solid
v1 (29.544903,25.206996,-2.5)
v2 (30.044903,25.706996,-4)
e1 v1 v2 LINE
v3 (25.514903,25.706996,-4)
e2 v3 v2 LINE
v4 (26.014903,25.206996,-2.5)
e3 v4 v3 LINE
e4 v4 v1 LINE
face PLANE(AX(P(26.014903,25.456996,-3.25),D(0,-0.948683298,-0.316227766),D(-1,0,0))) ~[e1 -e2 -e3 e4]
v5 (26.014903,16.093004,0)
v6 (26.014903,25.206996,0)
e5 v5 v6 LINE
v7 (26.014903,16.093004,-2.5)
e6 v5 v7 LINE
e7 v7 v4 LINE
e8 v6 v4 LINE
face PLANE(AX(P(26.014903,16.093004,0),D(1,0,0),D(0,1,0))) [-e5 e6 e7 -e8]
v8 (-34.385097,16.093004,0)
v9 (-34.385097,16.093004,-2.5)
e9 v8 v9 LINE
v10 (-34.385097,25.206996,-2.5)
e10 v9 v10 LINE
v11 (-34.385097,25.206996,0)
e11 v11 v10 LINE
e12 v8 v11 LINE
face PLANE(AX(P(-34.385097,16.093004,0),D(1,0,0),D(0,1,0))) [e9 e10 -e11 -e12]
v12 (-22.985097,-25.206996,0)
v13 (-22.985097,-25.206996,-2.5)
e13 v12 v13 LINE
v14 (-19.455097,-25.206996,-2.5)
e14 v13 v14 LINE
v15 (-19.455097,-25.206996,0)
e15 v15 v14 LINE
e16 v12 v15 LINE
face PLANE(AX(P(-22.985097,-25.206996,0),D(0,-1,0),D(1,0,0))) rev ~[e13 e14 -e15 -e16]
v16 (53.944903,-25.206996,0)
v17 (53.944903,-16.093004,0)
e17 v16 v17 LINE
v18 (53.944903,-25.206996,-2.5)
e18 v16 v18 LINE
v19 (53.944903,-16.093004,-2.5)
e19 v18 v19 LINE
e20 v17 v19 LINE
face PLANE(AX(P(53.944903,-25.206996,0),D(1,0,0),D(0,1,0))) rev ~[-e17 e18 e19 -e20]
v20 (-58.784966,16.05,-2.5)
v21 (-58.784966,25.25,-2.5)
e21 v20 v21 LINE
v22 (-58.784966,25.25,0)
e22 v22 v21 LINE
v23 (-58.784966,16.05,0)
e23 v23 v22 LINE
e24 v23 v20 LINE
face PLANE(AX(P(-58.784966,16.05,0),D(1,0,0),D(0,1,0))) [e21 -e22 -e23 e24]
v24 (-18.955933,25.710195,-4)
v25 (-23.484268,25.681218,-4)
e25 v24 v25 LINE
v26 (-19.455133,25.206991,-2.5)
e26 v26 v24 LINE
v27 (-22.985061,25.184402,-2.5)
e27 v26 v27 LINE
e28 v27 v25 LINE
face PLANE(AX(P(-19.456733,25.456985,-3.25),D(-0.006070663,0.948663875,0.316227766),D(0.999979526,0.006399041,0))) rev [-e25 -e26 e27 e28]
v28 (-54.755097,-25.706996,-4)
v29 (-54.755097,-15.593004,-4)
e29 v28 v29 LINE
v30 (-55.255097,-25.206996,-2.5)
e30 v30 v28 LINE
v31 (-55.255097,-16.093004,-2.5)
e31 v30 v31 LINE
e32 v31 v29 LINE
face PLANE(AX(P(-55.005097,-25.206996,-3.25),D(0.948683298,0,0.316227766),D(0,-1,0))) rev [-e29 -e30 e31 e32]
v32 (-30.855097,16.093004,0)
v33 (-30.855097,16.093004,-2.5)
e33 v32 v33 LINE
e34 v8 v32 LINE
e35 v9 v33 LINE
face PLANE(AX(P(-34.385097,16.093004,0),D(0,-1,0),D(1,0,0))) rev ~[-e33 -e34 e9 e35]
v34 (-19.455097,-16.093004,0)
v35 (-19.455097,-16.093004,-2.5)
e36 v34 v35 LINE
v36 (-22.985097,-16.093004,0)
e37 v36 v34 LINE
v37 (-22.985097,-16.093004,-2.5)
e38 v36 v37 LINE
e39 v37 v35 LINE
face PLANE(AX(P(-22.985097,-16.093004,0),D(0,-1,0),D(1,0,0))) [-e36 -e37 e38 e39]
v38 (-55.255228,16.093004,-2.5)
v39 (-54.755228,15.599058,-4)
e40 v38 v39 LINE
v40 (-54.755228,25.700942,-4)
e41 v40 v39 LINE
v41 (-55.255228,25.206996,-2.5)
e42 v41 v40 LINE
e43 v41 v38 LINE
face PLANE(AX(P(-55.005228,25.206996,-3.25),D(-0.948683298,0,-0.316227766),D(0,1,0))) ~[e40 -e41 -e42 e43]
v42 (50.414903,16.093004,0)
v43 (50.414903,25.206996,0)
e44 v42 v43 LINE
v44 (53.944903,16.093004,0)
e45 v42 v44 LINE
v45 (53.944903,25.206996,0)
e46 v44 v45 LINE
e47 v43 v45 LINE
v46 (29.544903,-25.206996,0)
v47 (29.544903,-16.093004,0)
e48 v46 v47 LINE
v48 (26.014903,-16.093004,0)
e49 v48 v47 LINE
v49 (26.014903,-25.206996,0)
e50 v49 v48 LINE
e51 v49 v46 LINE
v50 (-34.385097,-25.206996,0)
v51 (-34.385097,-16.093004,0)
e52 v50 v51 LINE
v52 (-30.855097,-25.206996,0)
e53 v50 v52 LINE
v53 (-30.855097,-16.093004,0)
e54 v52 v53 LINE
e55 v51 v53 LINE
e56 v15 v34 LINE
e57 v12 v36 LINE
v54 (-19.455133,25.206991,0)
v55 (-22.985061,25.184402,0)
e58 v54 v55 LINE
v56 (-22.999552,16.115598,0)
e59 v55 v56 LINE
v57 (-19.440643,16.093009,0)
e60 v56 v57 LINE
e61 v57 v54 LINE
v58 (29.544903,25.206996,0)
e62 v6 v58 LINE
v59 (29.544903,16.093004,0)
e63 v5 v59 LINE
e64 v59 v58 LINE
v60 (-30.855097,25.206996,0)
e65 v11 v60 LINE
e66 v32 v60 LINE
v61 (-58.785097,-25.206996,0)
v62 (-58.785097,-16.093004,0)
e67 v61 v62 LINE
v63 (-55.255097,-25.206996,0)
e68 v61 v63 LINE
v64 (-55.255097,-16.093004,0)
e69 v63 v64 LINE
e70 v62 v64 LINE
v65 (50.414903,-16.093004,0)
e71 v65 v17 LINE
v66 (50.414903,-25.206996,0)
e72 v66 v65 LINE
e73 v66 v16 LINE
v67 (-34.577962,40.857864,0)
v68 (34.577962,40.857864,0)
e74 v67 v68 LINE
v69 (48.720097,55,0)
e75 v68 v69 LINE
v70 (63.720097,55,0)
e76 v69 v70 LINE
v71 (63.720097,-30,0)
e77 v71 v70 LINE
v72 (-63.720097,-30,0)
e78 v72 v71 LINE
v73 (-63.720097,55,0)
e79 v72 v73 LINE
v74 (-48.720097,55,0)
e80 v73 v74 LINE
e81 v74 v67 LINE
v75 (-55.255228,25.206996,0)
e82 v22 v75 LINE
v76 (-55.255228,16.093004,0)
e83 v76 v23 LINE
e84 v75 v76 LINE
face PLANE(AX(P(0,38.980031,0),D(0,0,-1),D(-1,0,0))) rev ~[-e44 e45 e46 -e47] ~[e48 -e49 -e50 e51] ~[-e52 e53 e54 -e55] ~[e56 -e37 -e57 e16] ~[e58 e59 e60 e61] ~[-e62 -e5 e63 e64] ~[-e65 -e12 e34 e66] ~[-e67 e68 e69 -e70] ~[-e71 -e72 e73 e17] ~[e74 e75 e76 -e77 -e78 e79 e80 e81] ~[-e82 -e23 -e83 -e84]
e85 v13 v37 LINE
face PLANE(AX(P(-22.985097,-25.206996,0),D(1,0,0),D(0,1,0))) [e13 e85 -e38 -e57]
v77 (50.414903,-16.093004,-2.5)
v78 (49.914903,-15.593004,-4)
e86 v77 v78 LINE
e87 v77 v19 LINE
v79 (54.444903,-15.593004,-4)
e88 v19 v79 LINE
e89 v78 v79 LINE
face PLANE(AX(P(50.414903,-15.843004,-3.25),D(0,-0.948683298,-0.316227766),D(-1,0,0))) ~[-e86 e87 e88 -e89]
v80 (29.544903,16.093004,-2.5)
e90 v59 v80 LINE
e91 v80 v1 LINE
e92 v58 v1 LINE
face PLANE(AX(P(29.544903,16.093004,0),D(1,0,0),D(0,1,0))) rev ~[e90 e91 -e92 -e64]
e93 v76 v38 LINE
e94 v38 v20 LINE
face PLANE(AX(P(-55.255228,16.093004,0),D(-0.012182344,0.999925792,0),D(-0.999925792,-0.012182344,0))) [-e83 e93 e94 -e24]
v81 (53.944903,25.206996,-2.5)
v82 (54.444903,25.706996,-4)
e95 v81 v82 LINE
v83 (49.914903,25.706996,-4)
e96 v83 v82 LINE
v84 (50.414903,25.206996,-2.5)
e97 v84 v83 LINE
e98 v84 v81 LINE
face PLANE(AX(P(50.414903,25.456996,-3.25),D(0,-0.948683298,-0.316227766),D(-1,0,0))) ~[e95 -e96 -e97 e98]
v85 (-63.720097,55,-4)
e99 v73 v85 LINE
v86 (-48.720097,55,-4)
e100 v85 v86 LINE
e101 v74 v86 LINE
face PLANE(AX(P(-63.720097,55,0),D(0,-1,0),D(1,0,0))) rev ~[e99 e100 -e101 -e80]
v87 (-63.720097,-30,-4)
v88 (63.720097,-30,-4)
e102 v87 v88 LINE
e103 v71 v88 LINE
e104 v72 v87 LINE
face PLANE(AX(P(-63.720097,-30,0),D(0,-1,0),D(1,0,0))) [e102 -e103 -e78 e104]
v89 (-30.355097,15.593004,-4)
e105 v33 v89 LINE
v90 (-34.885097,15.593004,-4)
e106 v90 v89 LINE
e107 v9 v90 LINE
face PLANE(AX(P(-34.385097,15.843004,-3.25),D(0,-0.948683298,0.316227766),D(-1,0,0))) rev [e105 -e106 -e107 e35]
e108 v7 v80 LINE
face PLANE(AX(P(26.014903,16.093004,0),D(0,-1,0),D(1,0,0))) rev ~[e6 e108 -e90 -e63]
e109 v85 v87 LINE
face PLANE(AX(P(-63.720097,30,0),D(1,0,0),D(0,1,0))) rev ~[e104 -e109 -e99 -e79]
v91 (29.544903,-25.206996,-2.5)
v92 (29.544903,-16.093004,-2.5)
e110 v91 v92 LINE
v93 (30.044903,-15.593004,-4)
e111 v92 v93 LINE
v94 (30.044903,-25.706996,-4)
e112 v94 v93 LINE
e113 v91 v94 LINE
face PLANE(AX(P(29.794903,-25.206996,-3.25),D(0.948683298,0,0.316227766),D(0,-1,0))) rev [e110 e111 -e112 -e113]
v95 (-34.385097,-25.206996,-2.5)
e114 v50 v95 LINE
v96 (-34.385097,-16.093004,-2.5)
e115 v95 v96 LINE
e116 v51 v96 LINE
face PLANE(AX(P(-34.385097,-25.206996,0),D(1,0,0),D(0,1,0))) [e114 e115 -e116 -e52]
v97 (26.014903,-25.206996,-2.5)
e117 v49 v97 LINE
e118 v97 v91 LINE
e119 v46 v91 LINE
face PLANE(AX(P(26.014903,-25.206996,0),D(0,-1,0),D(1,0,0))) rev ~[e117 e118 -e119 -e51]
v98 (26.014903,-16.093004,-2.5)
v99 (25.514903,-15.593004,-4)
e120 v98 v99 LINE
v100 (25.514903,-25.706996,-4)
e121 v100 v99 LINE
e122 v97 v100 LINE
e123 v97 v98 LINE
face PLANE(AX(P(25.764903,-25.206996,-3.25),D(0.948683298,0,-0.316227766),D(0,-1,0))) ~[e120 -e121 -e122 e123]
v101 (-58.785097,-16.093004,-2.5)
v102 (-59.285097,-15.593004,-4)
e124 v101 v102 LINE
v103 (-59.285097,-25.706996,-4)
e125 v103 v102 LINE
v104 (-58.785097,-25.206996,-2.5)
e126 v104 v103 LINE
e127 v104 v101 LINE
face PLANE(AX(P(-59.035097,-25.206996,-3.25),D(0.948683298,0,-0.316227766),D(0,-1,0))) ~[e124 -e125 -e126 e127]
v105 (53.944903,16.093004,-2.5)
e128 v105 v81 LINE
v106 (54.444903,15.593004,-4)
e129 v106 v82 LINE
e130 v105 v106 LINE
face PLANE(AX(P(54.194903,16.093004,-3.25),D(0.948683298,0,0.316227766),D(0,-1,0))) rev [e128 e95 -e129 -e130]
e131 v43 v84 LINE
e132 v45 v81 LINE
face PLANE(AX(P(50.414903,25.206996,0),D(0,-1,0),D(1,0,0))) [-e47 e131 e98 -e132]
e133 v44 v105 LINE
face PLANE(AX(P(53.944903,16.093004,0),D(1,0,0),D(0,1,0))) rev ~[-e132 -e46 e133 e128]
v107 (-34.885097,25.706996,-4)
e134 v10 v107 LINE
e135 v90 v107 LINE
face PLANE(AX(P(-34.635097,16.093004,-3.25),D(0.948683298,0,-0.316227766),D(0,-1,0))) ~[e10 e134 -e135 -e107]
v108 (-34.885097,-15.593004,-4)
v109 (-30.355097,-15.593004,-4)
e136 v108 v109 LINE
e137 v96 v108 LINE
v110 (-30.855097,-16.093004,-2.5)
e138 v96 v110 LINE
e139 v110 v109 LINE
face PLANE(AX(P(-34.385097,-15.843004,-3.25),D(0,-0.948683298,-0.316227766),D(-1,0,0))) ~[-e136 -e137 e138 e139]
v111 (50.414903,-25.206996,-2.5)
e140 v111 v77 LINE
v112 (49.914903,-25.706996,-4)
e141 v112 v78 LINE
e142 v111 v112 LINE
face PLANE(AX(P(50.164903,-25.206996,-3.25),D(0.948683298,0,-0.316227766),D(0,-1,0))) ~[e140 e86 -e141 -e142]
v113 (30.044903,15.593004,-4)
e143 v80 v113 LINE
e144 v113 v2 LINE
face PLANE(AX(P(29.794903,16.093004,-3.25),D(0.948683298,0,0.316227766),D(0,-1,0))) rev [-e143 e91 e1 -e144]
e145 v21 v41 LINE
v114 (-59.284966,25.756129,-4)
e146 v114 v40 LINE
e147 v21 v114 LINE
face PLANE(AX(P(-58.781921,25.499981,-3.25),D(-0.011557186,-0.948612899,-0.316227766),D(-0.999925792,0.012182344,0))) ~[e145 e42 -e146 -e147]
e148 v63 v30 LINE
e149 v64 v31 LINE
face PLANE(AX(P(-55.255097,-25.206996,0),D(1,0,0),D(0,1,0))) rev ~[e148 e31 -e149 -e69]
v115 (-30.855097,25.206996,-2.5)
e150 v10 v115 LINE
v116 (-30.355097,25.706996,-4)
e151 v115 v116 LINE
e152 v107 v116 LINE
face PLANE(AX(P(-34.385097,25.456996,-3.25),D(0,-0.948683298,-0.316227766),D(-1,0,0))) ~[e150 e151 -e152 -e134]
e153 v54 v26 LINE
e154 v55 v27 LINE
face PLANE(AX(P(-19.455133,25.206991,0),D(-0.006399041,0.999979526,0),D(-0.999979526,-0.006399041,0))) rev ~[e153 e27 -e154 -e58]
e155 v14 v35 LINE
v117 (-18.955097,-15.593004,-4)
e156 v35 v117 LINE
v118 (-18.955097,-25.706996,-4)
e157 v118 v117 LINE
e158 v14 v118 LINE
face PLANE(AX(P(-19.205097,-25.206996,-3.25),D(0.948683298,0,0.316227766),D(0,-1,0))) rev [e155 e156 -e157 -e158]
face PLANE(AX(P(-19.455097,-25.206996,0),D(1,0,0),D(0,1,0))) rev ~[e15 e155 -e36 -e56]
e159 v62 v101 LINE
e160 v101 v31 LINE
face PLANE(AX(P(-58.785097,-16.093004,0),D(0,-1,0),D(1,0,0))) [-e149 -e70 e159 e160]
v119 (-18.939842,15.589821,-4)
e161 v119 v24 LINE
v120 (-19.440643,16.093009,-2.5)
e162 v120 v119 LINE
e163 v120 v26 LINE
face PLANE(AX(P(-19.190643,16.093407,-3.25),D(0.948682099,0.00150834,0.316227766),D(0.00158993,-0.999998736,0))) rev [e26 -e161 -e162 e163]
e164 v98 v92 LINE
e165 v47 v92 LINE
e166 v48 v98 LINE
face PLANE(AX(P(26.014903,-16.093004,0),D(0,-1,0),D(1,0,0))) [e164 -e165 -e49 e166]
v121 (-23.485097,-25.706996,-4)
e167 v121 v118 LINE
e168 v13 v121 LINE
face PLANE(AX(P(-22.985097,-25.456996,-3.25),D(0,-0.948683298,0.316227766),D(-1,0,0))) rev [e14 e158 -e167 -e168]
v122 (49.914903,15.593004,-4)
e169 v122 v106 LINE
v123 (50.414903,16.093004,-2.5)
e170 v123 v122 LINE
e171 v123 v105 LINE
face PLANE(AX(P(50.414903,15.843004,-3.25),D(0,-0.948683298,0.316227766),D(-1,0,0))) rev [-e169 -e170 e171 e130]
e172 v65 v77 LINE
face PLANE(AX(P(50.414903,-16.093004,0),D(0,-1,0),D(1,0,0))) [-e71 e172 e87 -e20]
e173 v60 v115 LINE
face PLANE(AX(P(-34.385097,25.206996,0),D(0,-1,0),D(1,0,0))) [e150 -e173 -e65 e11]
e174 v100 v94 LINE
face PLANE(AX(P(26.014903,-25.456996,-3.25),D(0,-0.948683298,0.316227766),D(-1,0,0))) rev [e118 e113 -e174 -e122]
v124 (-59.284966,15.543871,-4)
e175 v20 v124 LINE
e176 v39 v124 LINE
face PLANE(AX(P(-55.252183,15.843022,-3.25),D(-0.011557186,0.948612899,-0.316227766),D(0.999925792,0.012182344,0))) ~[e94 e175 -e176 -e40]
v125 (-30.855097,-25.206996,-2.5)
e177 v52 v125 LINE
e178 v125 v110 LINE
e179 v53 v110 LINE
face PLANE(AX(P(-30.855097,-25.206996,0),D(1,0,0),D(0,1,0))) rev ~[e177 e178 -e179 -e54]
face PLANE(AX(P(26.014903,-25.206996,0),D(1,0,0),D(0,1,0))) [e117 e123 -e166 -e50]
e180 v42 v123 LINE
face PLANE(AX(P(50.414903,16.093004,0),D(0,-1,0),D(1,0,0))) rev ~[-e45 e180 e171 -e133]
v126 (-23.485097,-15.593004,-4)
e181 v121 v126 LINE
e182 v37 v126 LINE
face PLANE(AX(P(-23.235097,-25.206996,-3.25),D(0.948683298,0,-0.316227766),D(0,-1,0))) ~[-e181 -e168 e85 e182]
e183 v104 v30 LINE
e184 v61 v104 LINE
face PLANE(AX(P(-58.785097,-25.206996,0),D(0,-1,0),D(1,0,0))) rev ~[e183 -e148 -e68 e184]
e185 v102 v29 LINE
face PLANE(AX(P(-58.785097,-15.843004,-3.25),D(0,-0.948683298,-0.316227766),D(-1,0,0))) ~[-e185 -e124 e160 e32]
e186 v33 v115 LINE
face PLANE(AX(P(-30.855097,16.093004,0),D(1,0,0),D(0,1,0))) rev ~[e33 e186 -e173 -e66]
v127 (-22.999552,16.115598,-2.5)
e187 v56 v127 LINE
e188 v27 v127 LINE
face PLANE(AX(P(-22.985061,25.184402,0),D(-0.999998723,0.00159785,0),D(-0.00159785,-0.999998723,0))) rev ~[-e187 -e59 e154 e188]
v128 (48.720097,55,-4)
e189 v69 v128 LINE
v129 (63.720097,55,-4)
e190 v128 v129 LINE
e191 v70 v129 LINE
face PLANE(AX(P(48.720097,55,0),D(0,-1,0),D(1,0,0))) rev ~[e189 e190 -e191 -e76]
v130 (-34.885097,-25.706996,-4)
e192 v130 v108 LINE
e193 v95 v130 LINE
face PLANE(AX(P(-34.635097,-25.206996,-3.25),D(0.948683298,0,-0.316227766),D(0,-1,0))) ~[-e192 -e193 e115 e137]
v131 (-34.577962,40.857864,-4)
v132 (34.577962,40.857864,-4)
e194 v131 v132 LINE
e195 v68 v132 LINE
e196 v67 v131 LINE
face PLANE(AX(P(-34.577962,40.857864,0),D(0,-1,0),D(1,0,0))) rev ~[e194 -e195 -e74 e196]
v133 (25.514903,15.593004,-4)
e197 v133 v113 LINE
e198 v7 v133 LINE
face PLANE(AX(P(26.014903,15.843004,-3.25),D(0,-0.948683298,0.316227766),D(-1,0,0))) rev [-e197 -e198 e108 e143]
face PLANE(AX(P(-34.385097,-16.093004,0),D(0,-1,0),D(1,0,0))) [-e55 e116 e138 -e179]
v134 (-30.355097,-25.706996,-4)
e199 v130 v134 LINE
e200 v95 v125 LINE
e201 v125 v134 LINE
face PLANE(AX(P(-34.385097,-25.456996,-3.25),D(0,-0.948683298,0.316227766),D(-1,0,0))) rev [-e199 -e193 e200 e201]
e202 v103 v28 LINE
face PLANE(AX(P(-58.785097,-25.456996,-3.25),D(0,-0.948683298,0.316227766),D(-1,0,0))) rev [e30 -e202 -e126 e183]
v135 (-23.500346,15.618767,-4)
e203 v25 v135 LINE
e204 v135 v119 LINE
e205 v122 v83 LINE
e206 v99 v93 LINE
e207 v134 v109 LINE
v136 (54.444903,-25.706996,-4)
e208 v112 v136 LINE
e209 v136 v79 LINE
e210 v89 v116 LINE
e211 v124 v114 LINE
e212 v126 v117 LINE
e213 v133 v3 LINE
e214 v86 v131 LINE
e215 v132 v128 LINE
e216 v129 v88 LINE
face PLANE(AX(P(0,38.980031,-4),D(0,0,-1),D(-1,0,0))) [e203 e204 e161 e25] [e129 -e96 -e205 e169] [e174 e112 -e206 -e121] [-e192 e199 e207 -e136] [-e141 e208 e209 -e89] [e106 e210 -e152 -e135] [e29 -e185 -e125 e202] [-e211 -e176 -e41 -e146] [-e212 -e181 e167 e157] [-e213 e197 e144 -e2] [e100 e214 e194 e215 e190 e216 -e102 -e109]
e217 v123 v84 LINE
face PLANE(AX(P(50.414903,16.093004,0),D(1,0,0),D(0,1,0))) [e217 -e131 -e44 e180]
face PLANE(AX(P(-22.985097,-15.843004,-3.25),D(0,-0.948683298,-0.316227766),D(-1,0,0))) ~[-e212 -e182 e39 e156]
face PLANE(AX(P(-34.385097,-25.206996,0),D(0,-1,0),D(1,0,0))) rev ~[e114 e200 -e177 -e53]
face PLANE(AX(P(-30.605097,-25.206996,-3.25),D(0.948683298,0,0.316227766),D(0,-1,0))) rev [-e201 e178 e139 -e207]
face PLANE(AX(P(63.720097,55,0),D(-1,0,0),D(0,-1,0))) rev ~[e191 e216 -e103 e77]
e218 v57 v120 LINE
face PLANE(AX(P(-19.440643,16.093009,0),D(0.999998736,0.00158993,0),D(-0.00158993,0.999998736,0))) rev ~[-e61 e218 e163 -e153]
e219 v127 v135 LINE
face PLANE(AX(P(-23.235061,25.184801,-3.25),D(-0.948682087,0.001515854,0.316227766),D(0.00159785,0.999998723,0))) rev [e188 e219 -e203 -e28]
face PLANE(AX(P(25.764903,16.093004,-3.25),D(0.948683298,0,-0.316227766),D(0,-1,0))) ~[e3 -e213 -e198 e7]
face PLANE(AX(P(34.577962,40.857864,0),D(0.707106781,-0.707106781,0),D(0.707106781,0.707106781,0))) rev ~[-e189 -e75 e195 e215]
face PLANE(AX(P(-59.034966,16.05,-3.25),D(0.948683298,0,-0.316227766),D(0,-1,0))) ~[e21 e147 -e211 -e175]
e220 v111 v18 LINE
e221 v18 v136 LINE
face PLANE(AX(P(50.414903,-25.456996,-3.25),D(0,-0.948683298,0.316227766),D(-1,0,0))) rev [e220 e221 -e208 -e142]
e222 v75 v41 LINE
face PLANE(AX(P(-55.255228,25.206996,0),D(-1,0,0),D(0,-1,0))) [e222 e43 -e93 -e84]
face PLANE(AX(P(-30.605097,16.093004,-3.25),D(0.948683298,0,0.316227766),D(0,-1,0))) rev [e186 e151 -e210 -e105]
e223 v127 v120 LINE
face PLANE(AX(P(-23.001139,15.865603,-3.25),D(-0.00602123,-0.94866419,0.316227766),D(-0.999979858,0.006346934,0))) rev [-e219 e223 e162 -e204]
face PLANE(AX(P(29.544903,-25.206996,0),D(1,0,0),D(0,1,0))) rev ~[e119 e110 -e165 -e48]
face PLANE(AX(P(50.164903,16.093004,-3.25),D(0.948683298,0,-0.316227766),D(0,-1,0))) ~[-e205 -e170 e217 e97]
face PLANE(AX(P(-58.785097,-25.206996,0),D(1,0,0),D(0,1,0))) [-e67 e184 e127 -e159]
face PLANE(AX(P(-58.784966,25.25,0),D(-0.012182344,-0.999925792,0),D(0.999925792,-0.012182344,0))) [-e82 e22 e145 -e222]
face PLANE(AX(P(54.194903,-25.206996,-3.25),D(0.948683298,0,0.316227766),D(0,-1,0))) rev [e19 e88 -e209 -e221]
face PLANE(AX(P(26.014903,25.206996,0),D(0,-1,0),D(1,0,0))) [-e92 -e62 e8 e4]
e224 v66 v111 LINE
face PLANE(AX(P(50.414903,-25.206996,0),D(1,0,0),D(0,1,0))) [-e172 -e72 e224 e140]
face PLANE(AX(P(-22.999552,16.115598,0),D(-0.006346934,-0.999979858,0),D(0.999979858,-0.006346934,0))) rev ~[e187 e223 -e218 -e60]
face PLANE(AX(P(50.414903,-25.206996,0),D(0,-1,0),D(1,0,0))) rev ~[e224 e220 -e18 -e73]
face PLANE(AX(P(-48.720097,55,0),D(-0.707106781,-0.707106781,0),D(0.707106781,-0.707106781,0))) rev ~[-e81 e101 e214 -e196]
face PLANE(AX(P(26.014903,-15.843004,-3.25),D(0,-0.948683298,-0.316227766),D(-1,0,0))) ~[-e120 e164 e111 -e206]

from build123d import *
from OCP.BRepFilletAPI import BRepFilletAPI_MakeChamfer

# Parameters (mm, degrees)
SKETCH1_W           = 127.440194606
SKETCH1_H           = 60
SKETCH1_W_2         = 3.53
SKETCH1_H_2         = 9.11399265
BOSS_EXTRUDE1_DEPTH = 4
BOSS_EXTRUDE2_DEPTH = 4
CHAMFER1_SIZE       = 1.5
CHAMFER1_SIZE2      = 0.5


with BuildPart() as part:
    # Sketch1 → Boss-Extrude1 (new body)
    with BuildSketch(Plane.XY):
        Rectangle(SKETCH1_W, SKETCH1_H)
        with Locations((-32.620097303, 20.65)):
            Rectangle(SKETCH1_W_2, SKETCH1_H_2, mode=Mode.SUBTRACT)
        with Locations((27.7799027, 20.65)):
            Rectangle(SKETCH1_W_2, SKETCH1_H_2, mode=Mode.SUBTRACT)
        with Locations((27.7799027, -20.65)):
            Rectangle(SKETCH1_W_2, SKETCH1_H_2, mode=Mode.SUBTRACT)
        Polygon((-19.455133439, 25.206990566), (-22.985061166, 25.184401952), (-22.999551776, 16.115598048), (-19.440642829, 16.093009434), align=None, mode=Mode.SUBTRACT)
        with Locations((-21.220097303, -20.65)):
            Rectangle(SKETCH1_W_2, SKETCH1_H_2, mode=Mode.SUBTRACT)
        with Locations((52.1799027, 20.65)):
            Rectangle(SKETCH1_W_2, SKETCH1_H_2, mode=Mode.SUBTRACT)
        with Locations((52.1799027, -20.65)):
            Rectangle(SKETCH1_W_2, SKETCH1_H_2, mode=Mode.SUBTRACT)
        with Locations((-32.620097303, -20.65)):
            Rectangle(SKETCH1_W_2, SKETCH1_H_2, mode=Mode.SUBTRACT)
        Polygon((-58.784966326, 25.25), (-55.255228279, 25.206996325), (-55.255228279, 16.093003675), (-58.784966326, 16.05), align=None, mode=Mode.SUBTRACT)
        with Locations((-57.020097303, -20.65)):
            Rectangle(SKETCH1_W_2, SKETCH1_H_2, mode=Mode.SUBTRACT)
    extrude(amount=-BOSS_EXTRUDE1_DEPTH)

    # Sketch2 → Boss-Extrude2 (add)
    with BuildSketch(Plane.XY):
        Polygon((-63.720097303, 30), (-63.720097303, 55), (-48.720097303, 55), (-34.577961679, 40.857864376), (34.577961679, 40.857864376), (48.720097303, 55), (63.720097303, 55), (63.720097303, 30), align=None)
    extrude(amount=-BOSS_EXTRUDE2_DEPTH)

    # Chamfer1: one chamfer whose edges measure the first distance from different faces: ONE call of the kernel's chamfer builder (chamfer() names one face for all edges)
    chamfer1_edges_1 = [part.edges().sort_by_distance(p)[0] for p in [
        (50.4149027, -20.65, -4),
    ]]
    chamfer1_side_1 = [part.faces().sort_by_distance(p)[0] for p in [
        (50.4149027, -20.65, -2),
    ]]
    chamfer1_edges_2 = [part.edges().sort_by_distance(p)[0] for p in [
        (52.1799027, -16.093003675, -4),
    ]]
    chamfer1_side_2 = [part.faces().sort_by_distance(p)[0] for p in [
        (52.1799027, -16.093003675, -2),
    ]]
    chamfer1_edges_3 = [part.edges().sort_by_distance(p)[0] for p in [
        (53.9449027, -20.65, -4),
    ]]
    chamfer1_side_3 = [part.faces().sort_by_distance(p)[0] for p in [
        (53.9449027, -20.65, -2),
    ]]
    chamfer1_edges_4 = [part.edges().sort_by_distance(p)[0] for p in [
        (52.1799027, -25.206996325, -4),
    ]]
    chamfer1_side_4 = [part.faces().sort_by_distance(p)[0] for p in [
        (52.1799027, -25.206996325, -2),
    ]]
    chamfer1_edges_5 = [part.edges().sort_by_distance(p)[0] for p in [
        (-58.784966326, 20.65, -4),
    ]]
    chamfer1_side_5 = [part.faces().sort_by_distance(p)[0] for p in [
        (-58.784966326, 20.65, -2),
    ]]
    chamfer1_edges_6 = [part.edges().sort_by_distance(p)[0] for p in [
        (-57.020097303, 25.228498163, -4),
    ]]
    chamfer1_side_6 = [part.faces().sort_by_distance(p)[0] for p in [
        (-57.020097303, 25.228498163, -2),
    ]]
    chamfer1_edges_7 = [part.edges().sort_by_distance(p)[0] for p in [
        (-55.255228279, 20.65, -4),
    ]]
    chamfer1_side_7 = [part.faces().sort_by_distance(p)[0] for p in [
        (-55.255228279, 20.65, -2),
    ]]
    chamfer1_edges_8 = [part.edges().sort_by_distance(p)[0] for p in [
        (-57.020097303, 16.071501837, -4),
    ]]
    chamfer1_side_8 = [part.faces().sort_by_distance(p)[0] for p in [
        (-57.020097303, 16.071501837, -2),
    ]]
    chamfer1_edges_9 = [part.edges().sort_by_distance(p)[0] for p in [
        (-58.785097303, -20.65, -4),
    ]]
    chamfer1_side_9 = [part.faces().sort_by_distance(p)[0] for p in [
        (-58.785097303, -20.65, -2),
    ]]
    chamfer1_edges_10 = [part.edges().sort_by_distance(p)[0] for p in [
        (-57.020097303, -16.093003675, -4),
    ]]
    chamfer1_side_10 = [part.faces().sort_by_distance(p)[0] for p in [
        (-57.020097303, -16.093003675, -2),
    ]]
    chamfer1_edges_11 = [part.edges().sort_by_distance(p)[0] for p in [
        (-55.255097303, -20.65, -4),
    ]]
    chamfer1_side_11 = [part.faces().sort_by_distance(p)[0] for p in [
        (-55.255097303, -20.65, -2),
    ]]
    chamfer1_edges_12 = [part.edges().sort_by_distance(p)[0] for p in [
        (-57.020097303, -25.206996325, -4),
    ]]
    chamfer1_side_12 = [part.faces().sort_by_distance(p)[0] for p in [
        (-57.020097303, -25.206996325, -2),
    ]]
    chamfer1_edges_13 = [part.edges().sort_by_distance(p)[0] for p in [
        (26.0149027, 20.65, -4),
    ]]
    chamfer1_side_13 = [part.faces().sort_by_distance(p)[0] for p in [
        (26.0149027, 20.65, -2),
    ]]
    chamfer1_edges_14 = [part.edges().sort_by_distance(p)[0] for p in [
        (27.7799027, 25.206996325, -4),
    ]]
    chamfer1_side_14 = [part.faces().sort_by_distance(p)[0] for p in [
        (27.7799027, 25.206996325, -2),
    ]]
    chamfer1_edges_15 = [part.edges().sort_by_distance(p)[0] for p in [
        (29.5449027, 20.65, -4),
    ]]
    chamfer1_side_15 = [part.faces().sort_by_distance(p)[0] for p in [
        (29.5449027, 20.65, -2),
    ]]
    chamfer1_edges_16 = [part.edges().sort_by_distance(p)[0] for p in [
        (27.7799027, 16.093003675, -4),
    ]]
    chamfer1_side_16 = [part.faces().sort_by_distance(p)[0] for p in [
        (27.7799027, 16.093003675, -2),
    ]]
    chamfer1_edges_17 = [part.edges().sort_by_distance(p)[0] for p in [
        (26.0149027, -20.65, -4),
    ]]
    chamfer1_side_17 = [part.faces().sort_by_distance(p)[0] for p in [
        (26.0149027, -20.65, -2),
    ]]
    chamfer1_edges_18 = [part.edges().sort_by_distance(p)[0] for p in [
        (27.7799027, -16.093003675, -4),
    ]]
    chamfer1_side_18 = [part.faces().sort_by_distance(p)[0] for p in [
        (27.7799027, -16.093003675, -2),
    ]]
    chamfer1_edges_19 = [part.edges().sort_by_distance(p)[0] for p in [
        (29.5449027, -20.65, -4),
    ]]
    chamfer1_side_19 = [part.faces().sort_by_distance(p)[0] for p in [
        (29.5449027, -20.65, -2),
    ]]
    chamfer1_edges_20 = [part.edges().sort_by_distance(p)[0] for p in [
        (27.7799027, -25.206996325, -4),
    ]]
    chamfer1_side_20 = [part.faces().sort_by_distance(p)[0] for p in [
        (27.7799027, -25.206996325, -2),
    ]]
    chamfer1_edges_21 = [part.edges().sort_by_distance(p)[0] for p in [
        (-19.447888134, 20.65, -4),
    ]]
    chamfer1_side_21 = [part.faces().sort_by_distance(p)[0] for p in [
        (-19.447888134, 20.65, -2),
    ]]
    chamfer1_edges_22 = [part.edges().sort_by_distance(p)[0] for p in [
        (-21.220097303, 16.104303741, -4),
    ]]
    chamfer1_side_22 = [part.faces().sort_by_distance(p)[0] for p in [
        (-21.220097303, 16.104303741, -2),
    ]]
    chamfer1_edges_23 = [part.edges().sort_by_distance(p)[0] for p in [
        (-22.992306471, 20.65, -4),
    ]]
    chamfer1_side_23 = [part.faces().sort_by_distance(p)[0] for p in [
        (-22.992306471, 20.65, -2),
    ]]
    chamfer1_edges_24 = [part.edges().sort_by_distance(p)[0] for p in [
        (-21.220097303, 25.195696259, -4),
    ]]
    chamfer1_side_24 = [part.faces().sort_by_distance(p)[0] for p in [
        (-21.220097303, 25.195696259, -2),
    ]]
    chamfer1_edges_25 = [part.edges().sort_by_distance(p)[0] for p in [
        (-19.455097303, -20.65, -4),
    ]]
    chamfer1_side_25 = [part.faces().sort_by_distance(p)[0] for p in [
        (-19.455097303, -20.65, -2),
    ]]
    chamfer1_edges_26 = [part.edges().sort_by_distance(p)[0] for p in [
        (-21.220097303, -25.206996325, -4),
    ]]
    chamfer1_side_26 = [part.faces().sort_by_distance(p)[0] for p in [
        (-21.220097303, -25.206996325, -2),
    ]]
    chamfer1_edges_27 = [part.edges().sort_by_distance(p)[0] for p in [
        (-22.985097303, -20.65, -4),
    ]]
    chamfer1_side_27 = [part.faces().sort_by_distance(p)[0] for p in [
        (-22.985097303, -20.65, -2),
    ]]
    chamfer1_edges_28 = [part.edges().sort_by_distance(p)[0] for p in [
        (-21.220097303, -16.093003675, -4),
    ]]
    chamfer1_side_28 = [part.faces().sort_by_distance(p)[0] for p in [
        (-21.220097303, -16.093003675, -2),
    ]]
    chamfer1_edges_29 = [part.edges().sort_by_distance(p)[0] for p in [
        (-34.385097303, 20.65, -4),
    ]]
    chamfer1_side_29 = [part.faces().sort_by_distance(p)[0] for p in [
        (-34.385097303, 20.65, -2),
    ]]
    chamfer1_edges_30 = [part.edges().sort_by_distance(p)[0] for p in [
        (-32.620097303, 25.206996325, -4),
    ]]
    chamfer1_side_30 = [part.faces().sort_by_distance(p)[0] for p in [
        (-32.620097303, 25.206996325, -2),
    ]]
    chamfer1_edges_31 = [part.edges().sort_by_distance(p)[0] for p in [
        (-30.855097303, 20.65, -4),
    ]]
    chamfer1_side_31 = [part.faces().sort_by_distance(p)[0] for p in [
        (-30.855097303, 20.65, -2),
    ]]
    chamfer1_edges_32 = [part.edges().sort_by_distance(p)[0] for p in [
        (-32.620097303, 16.093003675, -4),
    ]]
    chamfer1_side_32 = [part.faces().sort_by_distance(p)[0] for p in [
        (-32.620097303, 16.093003675, -2),
    ]]
    chamfer1_edges_33 = [part.edges().sort_by_distance(p)[0] for p in [
        (-34.385097303, -20.65, -4),
    ]]
    chamfer1_side_33 = [part.faces().sort_by_distance(p)[0] for p in [
        (-34.385097303, -20.65, -2),
    ]]
    chamfer1_edges_34 = [part.edges().sort_by_distance(p)[0] for p in [
        (-32.620097303, -16.093003675, -4),
    ]]
    chamfer1_side_34 = [part.faces().sort_by_distance(p)[0] for p in [
        (-32.620097303, -16.093003675, -2),
    ]]
    chamfer1_edges_35 = [part.edges().sort_by_distance(p)[0] for p in [
        (-30.855097303, -20.65, -4),
    ]]
    chamfer1_side_35 = [part.faces().sort_by_distance(p)[0] for p in [
        (-30.855097303, -20.65, -2),
    ]]
    chamfer1_edges_36 = [part.edges().sort_by_distance(p)[0] for p in [
        (-32.620097303, -25.206996325, -4),
    ]]
    chamfer1_side_36 = [part.faces().sort_by_distance(p)[0] for p in [
        (-32.620097303, -25.206996325, -2),
    ]]
    chamfer1_edges_37 = [part.edges().sort_by_distance(p)[0] for p in [
        (50.4149027, 20.65, -4),
    ]]
    chamfer1_side_37 = [part.faces().sort_by_distance(p)[0] for p in [
        (50.4149027, 20.65, -2),
    ]]
    chamfer1_edges_38 = [part.edges().sort_by_distance(p)[0] for p in [
        (52.1799027, 25.206996325, -4),
    ]]
    chamfer1_side_38 = [part.faces().sort_by_distance(p)[0] for p in [
        (52.1799027, 25.206996325, -2),
    ]]
    chamfer1_edges_39 = [part.edges().sort_by_distance(p)[0] for p in [
        (53.9449027, 20.65, -4),
    ]]
    chamfer1_side_39 = [part.faces().sort_by_distance(p)[0] for p in [
        (53.9449027, 20.65, -2),
    ]]
    chamfer1_edges_40 = [part.edges().sort_by_distance(p)[0] for p in [
        (52.1799027, 16.093003675, -4),
    ]]
    chamfer1_side_40 = [part.faces().sort_by_distance(p)[0] for p in [
        (52.1799027, 16.093003675, -2),
    ]]
    chamfer1 = BRepFilletAPI_MakeChamfer(part.part.solid().wrapped)
    for e in chamfer1_edges_1:
        chamfer1.Add(CHAMFER1_SIZE, CHAMFER1_SIZE2, e.wrapped, chamfer1_side_1[0].wrapped)  # the first distance lies on this face
    for e in chamfer1_edges_2:
        chamfer1.Add(CHAMFER1_SIZE, CHAMFER1_SIZE2, e.wrapped, chamfer1_side_2[0].wrapped)  # the first distance lies on this face
    for e in chamfer1_edges_3:
        chamfer1.Add(CHAMFER1_SIZE, CHAMFER1_SIZE2, e.wrapped, chamfer1_side_3[0].wrapped)  # the first distance lies on this face
    for e in chamfer1_edges_4:
        chamfer1.Add(CHAMFER1_SIZE, CHAMFER1_SIZE2, e.wrapped, chamfer1_side_4[0].wrapped)  # the first distance lies on this face
    for e in chamfer1_edges_5:
        chamfer1.Add(CHAMFER1_SIZE, CHAMFER1_SIZE2, e.wrapped, chamfer1_side_5[0].wrapped)  # the first distance lies on this face
    for e in chamfer1_edges_6:
        chamfer1.Add(CHAMFER1_SIZE, CHAMFER1_SIZE2, e.wrapped, chamfer1_side_6[0].wrapped)  # the first distance lies on this face
    for e in chamfer1_edges_7:
        chamfer1.Add(CHAMFER1_SIZE, CHAMFER1_SIZE2, e.wrapped, chamfer1_side_7[0].wrapped)  # the first distance lies on this face
    for e in chamfer1_edges_8:
        chamfer1.Add(CHAMFER1_SIZE, CHAMFER1_SIZE2, e.wrapped, chamfer1_side_8[0].wrapped)  # the first distance lies on this face
    for e in chamfer1_edges_9:
        chamfer1.Add(CHAMFER1_SIZE, CHAMFER1_SIZE2, e.wrapped, chamfer1_side_9[0].wrapped)  # the first distance lies on this face
    for e in chamfer1_edges_10:
        chamfer1.Add(CHAMFER1_SIZE, CHAMFER1_SIZE2, e.wrapped, chamfer1_side_10[0].wrapped)  # the first distance lies on this face
    for e in chamfer1_edges_11:
        chamfer1.Add(CHAMFER1_SIZE, CHAMFER1_SIZE2, e.wrapped, chamfer1_side_11[0].wrapped)  # the first distance lies on this face
    for e in chamfer1_edges_12:
        chamfer1.Add(CHAMFER1_SIZE, CHAMFER1_SIZE2, e.wrapped, chamfer1_side_12[0].wrapped)  # the first distance lies on this face
    for e in chamfer1_edges_13:
        chamfer1.Add(CHAMFER1_SIZE, CHAMFER1_SIZE2, e.wrapped, chamfer1_side_13[0].wrapped)  # the first distance lies on this face
    for e in chamfer1_edges_14:
        chamfer1.Add(CHAMFER1_SIZE, CHAMFER1_SIZE2, e.wrapped, chamfer1_side_14[0].wrapped)  # the first distance lies on this face
    for e in chamfer1_edges_15:
        chamfer1.Add(CHAMFER1_SIZE, CHAMFER1_SIZE2, e.wrapped, chamfer1_side_15[0].wrapped)  # the first distance lies on this face
    for e in chamfer1_edges_16:
        chamfer1.Add(CHAMFER1_SIZE, CHAMFER1_SIZE2, e.wrapped, chamfer1_side_16[0].wrapped)  # the first distance lies on this face
    for e in chamfer1_edges_17:
        chamfer1.Add(CHAMFER1_SIZE, CHAMFER1_SIZE2, e.wrapped, chamfer1_side_17[0].wrapped)  # the first distance lies on this face
    for e in chamfer1_edges_18:
        chamfer1.Add(CHAMFER1_SIZE, CHAMFER1_SIZE2, e.wrapped, chamfer1_side_18[0].wrapped)  # the first distance lies on this face
    for e in chamfer1_edges_19:
        chamfer1.Add(CHAMFER1_SIZE, CHAMFER1_SIZE2, e.wrapped, chamfer1_side_19[0].wrapped)  # the first distance lies on this face
    for e in chamfer1_edges_20:
        chamfer1.Add(CHAMFER1_SIZE, CHAMFER1_SIZE2, e.wrapped, chamfer1_side_20[0].wrapped)  # the first distance lies on this face
    for e in chamfer1_edges_21:
        chamfer1.Add(CHAMFER1_SIZE, CHAMFER1_SIZE2, e.wrapped, chamfer1_side_21[0].wrapped)  # the first distance lies on this face
    for e in chamfer1_edges_22:
        chamfer1.Add(CHAMFER1_SIZE, CHAMFER1_SIZE2, e.wrapped, chamfer1_side_22[0].wrapped)  # the first distance lies on this face
    for e in chamfer1_edges_23:
        chamfer1.Add(CHAMFER1_SIZE, CHAMFER1_SIZE2, e.wrapped, chamfer1_side_23[0].wrapped)  # the first distance lies on this face
    for e in chamfer1_edges_24:
        chamfer1.Add(CHAMFER1_SIZE, CHAMFER1_SIZE2, e.wrapped, chamfer1_side_24[0].wrapped)  # the first distance lies on this face
    for e in chamfer1_edges_25:
        chamfer1.Add(CHAMFER1_SIZE, CHAMFER1_SIZE2, e.wrapped, chamfer1_side_25[0].wrapped)  # the first distance lies on this face
    for e in chamfer1_edges_26:
        chamfer1.Add(CHAMFER1_SIZE, CHAMFER1_SIZE2, e.wrapped, chamfer1_side_26[0].wrapped)  # the first distance lies on this face
    for e in chamfer1_edges_27:
        chamfer1.Add(CHAMFER1_SIZE, CHAMFER1_SIZE2, e.wrapped, chamfer1_side_27[0].wrapped)  # the first distance lies on this face
    for e in chamfer1_edges_28:
        chamfer1.Add(CHAMFER1_SIZE, CHAMFER1_SIZE2, e.wrapped, chamfer1_side_28[0].wrapped)  # the first distance lies on this face
    for e in chamfer1_edges_29:
        chamfer1.Add(CHAMFER1_SIZE, CHAMFER1_SIZE2, e.wrapped, chamfer1_side_29[0].wrapped)  # the first distance lies on this face
    for e in chamfer1_edges_30:
        chamfer1.Add(CHAMFER1_SIZE, CHAMFER1_SIZE2, e.wrapped, chamfer1_side_30[0].wrapped)  # the first distance lies on this face
    for e in chamfer1_edges_31:
        chamfer1.Add(CHAMFER1_SIZE, CHAMFER1_SIZE2, e.wrapped, chamfer1_side_31[0].wrapped)  # the first distance lies on this face
    for e in chamfer1_edges_32:
        chamfer1.Add(CHAMFER1_SIZE, CHAMFER1_SIZE2, e.wrapped, chamfer1_side_32[0].wrapped)  # the first distance lies on this face
    for e in chamfer1_edges_33:
        chamfer1.Add(CHAMFER1_SIZE, CHAMFER1_SIZE2, e.wrapped, chamfer1_side_33[0].wrapped)  # the first distance lies on this face
    for e in chamfer1_edges_34:
        chamfer1.Add(CHAMFER1_SIZE, CHAMFER1_SIZE2, e.wrapped, chamfer1_side_34[0].wrapped)  # the first distance lies on this face
    for e in chamfer1_edges_35:
        chamfer1.Add(CHAMFER1_SIZE, CHAMFER1_SIZE2, e.wrapped, chamfer1_side_35[0].wrapped)  # the first distance lies on this face
    for e in chamfer1_edges_36:
        chamfer1.Add(CHAMFER1_SIZE, CHAMFER1_SIZE2, e.wrapped, chamfer1_side_36[0].wrapped)  # the first distance lies on this face
    for e in chamfer1_edges_37:
        chamfer1.Add(CHAMFER1_SIZE, CHAMFER1_SIZE2, e.wrapped, chamfer1_side_37[0].wrapped)  # the first distance lies on this face
    for e in chamfer1_edges_38:
        chamfer1.Add(CHAMFER1_SIZE, CHAMFER1_SIZE2, e.wrapped, chamfer1_side_38[0].wrapped)  # the first distance lies on this face
    for e in chamfer1_edges_39:
        chamfer1.Add(CHAMFER1_SIZE, CHAMFER1_SIZE2, e.wrapped, chamfer1_side_39[0].wrapped)  # the first distance lies on this face
    for e in chamfer1_edges_40:
        chamfer1.Add(CHAMFER1_SIZE, CHAMFER1_SIZE2, e.wrapped, chamfer1_side_40[0].wrapped)  # the first distance lies on this face
    add(Compound.cast(chamfer1.Shape()), mode=Mode.REPLACE)


solid = part.part
